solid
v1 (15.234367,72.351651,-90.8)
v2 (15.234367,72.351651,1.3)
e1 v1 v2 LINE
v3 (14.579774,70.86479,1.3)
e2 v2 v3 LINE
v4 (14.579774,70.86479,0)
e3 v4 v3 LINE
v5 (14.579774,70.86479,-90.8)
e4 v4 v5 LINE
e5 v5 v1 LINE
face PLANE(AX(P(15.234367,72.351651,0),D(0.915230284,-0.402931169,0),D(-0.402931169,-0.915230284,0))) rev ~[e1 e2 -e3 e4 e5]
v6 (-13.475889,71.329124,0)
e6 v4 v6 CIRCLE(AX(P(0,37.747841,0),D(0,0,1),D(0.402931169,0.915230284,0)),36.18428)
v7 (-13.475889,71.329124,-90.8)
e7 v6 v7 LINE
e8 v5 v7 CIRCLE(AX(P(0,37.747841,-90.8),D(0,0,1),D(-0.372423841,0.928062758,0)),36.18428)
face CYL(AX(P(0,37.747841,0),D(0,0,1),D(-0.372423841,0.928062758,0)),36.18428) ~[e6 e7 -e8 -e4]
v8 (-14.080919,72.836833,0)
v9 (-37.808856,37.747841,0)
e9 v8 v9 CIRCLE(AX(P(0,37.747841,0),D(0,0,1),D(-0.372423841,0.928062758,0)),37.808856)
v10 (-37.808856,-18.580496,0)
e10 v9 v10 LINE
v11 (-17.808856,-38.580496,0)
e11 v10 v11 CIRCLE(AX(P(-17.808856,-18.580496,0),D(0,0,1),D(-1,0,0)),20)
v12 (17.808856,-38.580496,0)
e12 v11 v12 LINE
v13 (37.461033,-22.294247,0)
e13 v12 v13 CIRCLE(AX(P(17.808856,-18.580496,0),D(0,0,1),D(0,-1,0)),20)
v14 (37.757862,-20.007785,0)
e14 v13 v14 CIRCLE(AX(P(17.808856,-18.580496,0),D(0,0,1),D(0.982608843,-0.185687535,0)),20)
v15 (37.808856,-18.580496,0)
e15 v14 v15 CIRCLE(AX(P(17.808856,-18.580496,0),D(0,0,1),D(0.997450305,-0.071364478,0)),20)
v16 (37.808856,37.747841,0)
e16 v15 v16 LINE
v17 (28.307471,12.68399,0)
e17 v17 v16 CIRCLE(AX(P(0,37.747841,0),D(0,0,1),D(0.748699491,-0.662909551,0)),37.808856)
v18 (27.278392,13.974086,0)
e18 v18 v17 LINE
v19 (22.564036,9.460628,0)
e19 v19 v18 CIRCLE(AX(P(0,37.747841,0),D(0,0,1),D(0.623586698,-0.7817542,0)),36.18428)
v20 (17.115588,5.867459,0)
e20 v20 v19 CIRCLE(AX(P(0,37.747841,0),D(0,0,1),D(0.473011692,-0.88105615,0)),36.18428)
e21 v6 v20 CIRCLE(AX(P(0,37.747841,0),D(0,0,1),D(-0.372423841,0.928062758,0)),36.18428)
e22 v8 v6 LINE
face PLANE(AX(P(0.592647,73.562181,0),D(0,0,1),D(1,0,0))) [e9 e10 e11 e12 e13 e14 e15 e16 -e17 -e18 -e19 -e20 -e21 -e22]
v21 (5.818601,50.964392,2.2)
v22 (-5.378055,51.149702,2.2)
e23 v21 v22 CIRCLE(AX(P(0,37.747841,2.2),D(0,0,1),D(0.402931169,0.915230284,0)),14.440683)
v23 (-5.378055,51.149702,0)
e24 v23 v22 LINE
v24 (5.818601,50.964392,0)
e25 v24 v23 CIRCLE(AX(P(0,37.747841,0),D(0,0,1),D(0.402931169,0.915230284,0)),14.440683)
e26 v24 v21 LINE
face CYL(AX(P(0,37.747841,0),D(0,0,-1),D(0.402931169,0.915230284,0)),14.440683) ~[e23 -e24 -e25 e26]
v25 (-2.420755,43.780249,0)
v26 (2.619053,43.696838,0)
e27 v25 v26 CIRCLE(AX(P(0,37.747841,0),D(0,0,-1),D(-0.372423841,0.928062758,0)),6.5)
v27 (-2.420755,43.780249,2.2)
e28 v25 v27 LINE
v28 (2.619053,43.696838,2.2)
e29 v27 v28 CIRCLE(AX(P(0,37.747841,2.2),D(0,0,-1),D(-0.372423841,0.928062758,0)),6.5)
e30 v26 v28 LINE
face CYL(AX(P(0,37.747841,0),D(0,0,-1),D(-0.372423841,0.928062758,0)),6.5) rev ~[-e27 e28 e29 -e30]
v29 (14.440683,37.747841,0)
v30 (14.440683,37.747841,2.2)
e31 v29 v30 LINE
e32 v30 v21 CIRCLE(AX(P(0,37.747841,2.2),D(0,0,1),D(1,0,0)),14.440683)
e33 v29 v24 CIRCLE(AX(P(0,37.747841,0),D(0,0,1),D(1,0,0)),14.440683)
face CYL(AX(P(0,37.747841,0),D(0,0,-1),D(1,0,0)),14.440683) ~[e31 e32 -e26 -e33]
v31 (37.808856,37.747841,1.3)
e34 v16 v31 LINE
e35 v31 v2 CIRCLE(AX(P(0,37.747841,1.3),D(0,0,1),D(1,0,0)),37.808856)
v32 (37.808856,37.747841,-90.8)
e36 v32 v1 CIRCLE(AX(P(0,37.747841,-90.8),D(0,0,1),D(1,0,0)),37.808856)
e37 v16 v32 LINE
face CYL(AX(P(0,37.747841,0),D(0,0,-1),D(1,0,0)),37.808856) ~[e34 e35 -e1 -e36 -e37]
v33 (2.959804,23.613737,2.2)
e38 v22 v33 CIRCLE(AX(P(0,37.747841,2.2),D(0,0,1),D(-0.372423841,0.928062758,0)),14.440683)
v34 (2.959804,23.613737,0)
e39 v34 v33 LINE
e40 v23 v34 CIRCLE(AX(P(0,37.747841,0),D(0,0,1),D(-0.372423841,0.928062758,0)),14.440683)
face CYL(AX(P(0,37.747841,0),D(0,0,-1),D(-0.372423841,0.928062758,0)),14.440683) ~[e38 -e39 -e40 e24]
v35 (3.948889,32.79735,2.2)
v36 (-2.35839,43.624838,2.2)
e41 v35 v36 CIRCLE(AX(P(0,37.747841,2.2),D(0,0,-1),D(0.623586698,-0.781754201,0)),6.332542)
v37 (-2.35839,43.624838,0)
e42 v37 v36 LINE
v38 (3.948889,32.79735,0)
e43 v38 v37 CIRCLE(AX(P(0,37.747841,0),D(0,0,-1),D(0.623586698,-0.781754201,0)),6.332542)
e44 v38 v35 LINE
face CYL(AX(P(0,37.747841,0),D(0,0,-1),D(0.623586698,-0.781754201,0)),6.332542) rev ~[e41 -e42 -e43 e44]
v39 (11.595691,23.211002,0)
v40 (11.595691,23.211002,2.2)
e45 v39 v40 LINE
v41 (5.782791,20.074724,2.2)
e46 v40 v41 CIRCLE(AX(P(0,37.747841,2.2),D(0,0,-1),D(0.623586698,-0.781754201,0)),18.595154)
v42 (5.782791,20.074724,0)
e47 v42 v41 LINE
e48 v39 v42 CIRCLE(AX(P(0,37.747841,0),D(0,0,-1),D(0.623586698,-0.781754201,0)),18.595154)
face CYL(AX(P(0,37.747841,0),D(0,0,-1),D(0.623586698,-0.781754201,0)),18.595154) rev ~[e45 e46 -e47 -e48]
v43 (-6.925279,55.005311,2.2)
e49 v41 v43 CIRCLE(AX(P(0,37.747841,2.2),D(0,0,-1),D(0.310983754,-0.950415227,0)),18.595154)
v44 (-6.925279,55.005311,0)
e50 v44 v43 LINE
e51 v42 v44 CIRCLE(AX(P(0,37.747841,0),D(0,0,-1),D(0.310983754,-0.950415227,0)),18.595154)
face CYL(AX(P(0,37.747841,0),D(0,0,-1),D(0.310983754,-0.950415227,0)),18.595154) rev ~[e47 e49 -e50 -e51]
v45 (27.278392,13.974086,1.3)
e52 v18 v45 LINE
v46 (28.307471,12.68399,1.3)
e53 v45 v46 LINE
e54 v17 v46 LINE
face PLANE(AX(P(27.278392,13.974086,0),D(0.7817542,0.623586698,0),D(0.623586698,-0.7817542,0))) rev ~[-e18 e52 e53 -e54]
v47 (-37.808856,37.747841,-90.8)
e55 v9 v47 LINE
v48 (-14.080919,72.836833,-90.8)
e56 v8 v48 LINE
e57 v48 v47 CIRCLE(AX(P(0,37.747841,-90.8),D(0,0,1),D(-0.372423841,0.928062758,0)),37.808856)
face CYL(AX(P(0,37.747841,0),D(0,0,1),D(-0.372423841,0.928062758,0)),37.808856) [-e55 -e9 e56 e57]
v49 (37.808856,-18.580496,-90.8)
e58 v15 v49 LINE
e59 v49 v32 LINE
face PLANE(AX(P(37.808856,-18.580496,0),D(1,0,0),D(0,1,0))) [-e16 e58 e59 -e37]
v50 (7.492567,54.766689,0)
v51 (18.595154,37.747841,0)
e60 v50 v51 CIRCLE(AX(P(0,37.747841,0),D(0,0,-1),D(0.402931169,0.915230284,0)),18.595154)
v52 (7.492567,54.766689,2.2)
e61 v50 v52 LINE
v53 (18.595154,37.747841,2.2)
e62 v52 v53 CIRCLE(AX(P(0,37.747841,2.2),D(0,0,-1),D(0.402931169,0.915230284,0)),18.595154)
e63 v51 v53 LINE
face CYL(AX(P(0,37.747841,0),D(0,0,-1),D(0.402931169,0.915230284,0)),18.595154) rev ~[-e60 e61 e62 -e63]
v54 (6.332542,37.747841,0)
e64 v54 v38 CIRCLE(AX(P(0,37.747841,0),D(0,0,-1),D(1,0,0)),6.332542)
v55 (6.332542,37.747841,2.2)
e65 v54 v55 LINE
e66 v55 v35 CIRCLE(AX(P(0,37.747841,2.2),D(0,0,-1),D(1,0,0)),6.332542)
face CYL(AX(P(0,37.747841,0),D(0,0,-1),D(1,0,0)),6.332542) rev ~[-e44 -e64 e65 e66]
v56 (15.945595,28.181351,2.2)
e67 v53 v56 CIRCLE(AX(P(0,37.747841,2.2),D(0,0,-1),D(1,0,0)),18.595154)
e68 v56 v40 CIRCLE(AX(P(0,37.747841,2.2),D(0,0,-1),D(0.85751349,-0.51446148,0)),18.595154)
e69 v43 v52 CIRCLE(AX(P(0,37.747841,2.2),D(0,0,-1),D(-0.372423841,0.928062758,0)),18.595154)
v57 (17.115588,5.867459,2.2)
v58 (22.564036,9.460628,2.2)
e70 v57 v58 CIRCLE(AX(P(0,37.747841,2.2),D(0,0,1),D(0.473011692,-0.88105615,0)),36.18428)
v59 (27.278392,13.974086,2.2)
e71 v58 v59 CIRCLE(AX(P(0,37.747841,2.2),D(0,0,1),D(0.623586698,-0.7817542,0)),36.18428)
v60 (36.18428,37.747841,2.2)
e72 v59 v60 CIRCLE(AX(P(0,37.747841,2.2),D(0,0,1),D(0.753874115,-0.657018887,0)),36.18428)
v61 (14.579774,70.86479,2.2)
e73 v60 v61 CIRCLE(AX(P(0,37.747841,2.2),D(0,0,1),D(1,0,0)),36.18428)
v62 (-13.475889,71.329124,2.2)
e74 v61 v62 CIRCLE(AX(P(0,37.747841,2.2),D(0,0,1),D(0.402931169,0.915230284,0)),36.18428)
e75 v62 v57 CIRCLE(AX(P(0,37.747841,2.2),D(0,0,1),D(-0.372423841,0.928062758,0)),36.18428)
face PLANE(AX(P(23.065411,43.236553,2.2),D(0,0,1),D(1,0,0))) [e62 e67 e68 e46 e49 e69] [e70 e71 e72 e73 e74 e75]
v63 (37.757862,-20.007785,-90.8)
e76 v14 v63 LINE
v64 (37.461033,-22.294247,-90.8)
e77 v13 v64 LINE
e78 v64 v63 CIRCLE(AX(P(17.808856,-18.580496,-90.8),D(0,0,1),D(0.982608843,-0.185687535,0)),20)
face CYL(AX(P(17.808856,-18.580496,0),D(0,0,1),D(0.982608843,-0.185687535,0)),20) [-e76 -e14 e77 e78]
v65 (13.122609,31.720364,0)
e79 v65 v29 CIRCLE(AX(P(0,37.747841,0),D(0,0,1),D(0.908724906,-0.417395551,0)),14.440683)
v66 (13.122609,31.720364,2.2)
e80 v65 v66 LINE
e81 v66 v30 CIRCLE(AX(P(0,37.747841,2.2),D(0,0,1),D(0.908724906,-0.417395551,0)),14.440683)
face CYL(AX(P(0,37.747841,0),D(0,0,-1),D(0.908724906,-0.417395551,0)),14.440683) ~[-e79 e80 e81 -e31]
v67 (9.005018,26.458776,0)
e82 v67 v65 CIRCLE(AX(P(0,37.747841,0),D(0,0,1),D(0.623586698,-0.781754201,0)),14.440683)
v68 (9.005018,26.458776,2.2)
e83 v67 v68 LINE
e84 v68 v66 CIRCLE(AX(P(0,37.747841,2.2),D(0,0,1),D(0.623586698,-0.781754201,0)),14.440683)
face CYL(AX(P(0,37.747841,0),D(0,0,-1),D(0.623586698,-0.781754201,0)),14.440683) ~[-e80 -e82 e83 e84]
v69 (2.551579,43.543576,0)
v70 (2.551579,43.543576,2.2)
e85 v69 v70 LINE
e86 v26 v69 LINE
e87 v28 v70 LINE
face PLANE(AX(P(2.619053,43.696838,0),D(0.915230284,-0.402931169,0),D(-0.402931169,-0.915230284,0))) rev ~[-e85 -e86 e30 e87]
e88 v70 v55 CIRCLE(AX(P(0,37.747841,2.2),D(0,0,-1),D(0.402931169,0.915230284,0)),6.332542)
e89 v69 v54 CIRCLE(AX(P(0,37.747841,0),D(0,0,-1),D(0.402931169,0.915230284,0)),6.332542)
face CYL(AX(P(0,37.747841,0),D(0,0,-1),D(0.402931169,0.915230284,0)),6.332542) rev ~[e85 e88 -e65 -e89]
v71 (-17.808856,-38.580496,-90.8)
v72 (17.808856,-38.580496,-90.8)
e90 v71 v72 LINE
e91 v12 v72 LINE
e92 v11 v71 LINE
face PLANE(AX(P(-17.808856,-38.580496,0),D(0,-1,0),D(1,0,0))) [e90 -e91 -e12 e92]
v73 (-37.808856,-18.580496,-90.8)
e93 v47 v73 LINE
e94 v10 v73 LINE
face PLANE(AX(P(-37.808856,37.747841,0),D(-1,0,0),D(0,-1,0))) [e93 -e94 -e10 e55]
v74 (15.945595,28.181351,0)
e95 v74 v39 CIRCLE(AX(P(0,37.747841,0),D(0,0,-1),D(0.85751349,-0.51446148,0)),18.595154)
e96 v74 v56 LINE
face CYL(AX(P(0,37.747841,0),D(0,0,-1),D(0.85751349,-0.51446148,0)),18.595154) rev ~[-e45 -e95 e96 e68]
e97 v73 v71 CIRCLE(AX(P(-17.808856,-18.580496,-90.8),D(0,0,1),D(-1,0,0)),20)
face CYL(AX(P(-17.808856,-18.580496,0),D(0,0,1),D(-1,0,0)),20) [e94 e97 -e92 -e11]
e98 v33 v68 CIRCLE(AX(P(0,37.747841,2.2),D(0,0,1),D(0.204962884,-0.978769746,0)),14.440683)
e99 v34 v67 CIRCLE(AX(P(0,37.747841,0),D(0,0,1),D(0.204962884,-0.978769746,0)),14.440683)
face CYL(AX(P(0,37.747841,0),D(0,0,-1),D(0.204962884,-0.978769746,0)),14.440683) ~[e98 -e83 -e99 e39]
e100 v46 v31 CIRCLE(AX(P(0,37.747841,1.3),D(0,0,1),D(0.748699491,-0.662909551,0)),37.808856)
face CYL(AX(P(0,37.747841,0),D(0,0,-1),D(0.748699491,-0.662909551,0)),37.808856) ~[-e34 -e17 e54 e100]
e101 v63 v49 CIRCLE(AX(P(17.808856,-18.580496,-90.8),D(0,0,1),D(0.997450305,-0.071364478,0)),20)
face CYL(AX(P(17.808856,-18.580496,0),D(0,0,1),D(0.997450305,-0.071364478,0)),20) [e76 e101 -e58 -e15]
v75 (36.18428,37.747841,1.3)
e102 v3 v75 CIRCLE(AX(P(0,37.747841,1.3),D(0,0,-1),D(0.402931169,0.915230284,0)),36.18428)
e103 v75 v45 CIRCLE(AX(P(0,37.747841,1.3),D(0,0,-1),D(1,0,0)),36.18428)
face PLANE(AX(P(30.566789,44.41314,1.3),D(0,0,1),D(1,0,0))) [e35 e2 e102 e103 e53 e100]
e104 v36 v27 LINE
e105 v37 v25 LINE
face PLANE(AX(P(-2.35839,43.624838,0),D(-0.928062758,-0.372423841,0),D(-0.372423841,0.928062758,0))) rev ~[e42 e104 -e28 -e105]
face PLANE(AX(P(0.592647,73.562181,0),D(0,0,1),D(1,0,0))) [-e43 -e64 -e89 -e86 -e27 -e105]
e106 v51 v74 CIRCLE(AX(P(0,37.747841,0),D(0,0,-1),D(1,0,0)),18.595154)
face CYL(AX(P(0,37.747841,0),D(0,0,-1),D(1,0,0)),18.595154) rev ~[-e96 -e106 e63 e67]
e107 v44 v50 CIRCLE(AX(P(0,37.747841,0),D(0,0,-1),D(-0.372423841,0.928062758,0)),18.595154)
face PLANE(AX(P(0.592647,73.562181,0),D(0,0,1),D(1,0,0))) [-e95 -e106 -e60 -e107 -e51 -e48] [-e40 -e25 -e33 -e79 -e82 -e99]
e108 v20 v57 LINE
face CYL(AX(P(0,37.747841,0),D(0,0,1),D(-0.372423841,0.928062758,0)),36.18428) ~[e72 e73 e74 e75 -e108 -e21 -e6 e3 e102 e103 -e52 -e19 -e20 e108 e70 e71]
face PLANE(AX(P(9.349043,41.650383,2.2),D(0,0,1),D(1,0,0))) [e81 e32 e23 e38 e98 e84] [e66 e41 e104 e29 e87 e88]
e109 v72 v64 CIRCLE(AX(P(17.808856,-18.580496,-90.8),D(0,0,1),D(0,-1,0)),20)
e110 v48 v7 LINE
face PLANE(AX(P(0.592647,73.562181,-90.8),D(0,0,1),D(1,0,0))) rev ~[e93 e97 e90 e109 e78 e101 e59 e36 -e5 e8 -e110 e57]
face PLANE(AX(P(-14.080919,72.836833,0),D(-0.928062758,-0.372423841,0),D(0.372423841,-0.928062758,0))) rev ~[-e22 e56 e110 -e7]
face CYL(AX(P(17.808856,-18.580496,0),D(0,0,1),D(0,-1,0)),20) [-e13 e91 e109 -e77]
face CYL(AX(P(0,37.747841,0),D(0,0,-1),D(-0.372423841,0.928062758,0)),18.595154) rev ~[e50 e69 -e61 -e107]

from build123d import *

# Parameters (mm, degrees)
F1_DEPTH = 90.8
F2_DEPTH = 2.2
F3_DEPTH = 98.2
F4_DEPTH = 1.3


with BuildPart() as f1:
    # F0 (on Top) → F1 (new body)
    with BuildSketch(Plane.XY):
        with BuildLine():
            Line((14.5797743075, 70.8647903861), (15.2343665475, 72.3516513901))
            ThreePointArc((15.2343665475, 72.3516513901), (9.7510541905, 74.2776447369), (4.0373458892, 75.3405192466))
            Line((4.0373458892, 75.3405192466), (-3.8493320938, 75.3602360583))
            ThreePointArc((-3.8493320938, 75.3602360583), (-9.0534728718, 74.4567533778), (-14.0809194048, 72.8368325308))
            Line((-14.0809194048, 72.8368325308), (-13.4758886314, 71.3291242006))
            ThreePointArc((-13.4758886314, 71.3291242006), (0.5987840757, 73.9271667972), (14.5797743075, 70.8647903861))
        make_face()
        with BuildLine():
            ThreePointArc((17.1155876174, 5.8674587356), (-32.7813859307, 22.4284787369), (-13.4758886314, 71.3291242006))
            Line((-13.4758886314, 71.3291242006), (-14.0809194048, 72.8368325308))
            ThreePointArc((-14.0809194048, 72.8368325308), (-31.3200658488, 58.9271489213), (-37.8088560378, 37.7478413284))
            ThreePointArc((-37.8088560378, 37.7478413284), (-34.519772796, 22.3240000103), (-25.2247735802, 9.5836727321))
            ThreePointArc((-25.2247735802, 9.5836727321), (-4.3356388326, 0.1883973655), (18.1446666572, 4.5773624836))
            Line((18.1446666572, 4.5773624836), (17.1155876174, 5.8674587356))
        make_face()
        with BuildLine():
            ThreePointArc((28.3074712637, 12.6839895584), (35.3538024878, 24.3456682007), (37.8088560378, 37.7478413284))
            ThreePointArc((37.8088560378, 37.7478413284), (31.6662562242, 58.4059586587), (15.2343665475, 72.3516513901))
            Line((15.2343665475, 72.3516513901), (14.5797743075, 70.8647903861))
            ThreePointArc((14.5797743075, 70.8647903861), (30.3056164149, 57.5183179908), (36.1842802022, 37.7478413284))
            ThreePointArc((36.1842802022, 37.7478413284), (33.8847393486, 25.0542770919), (27.2783922239, 13.9740858104))
            Line((27.2783922239, 13.9740858104), (28.3074712637, 12.6839895584))
        make_face()
        with BuildLine():
            Line((7.4925671367, 54.7666894219), (14.5797743075, 70.8647903861))
            ThreePointArc((14.5797743075, 70.8647903861), (0.5987840757, 73.9271667972), (-13.4758886314, 71.3291242006))
            Line((-13.4758886314, 71.3291242006), (-6.9252786887, 55.0053112418))
            ThreePointArc((-6.9252786887, 55.0053112418), (0.3077160039, 56.3404490957), (7.4925671367, 54.7666894219))
        make_face()
        with BuildLine():
            ThreePointArc((36.1842802022, 37.7478413284), (30.3056164149, 57.5183179908), (14.5797743075, 70.8647903861))
            Line((14.5797743075, 70.8647903861), (7.4925671367, 54.7666894219))
            ThreePointArc((7.4925671367, 54.7666894219), (15.5741001759, 47.9079179245), (18.5951540119, 37.7478413284))
            ThreePointArc((18.5951540119, 37.7478413284), (17.9205267119, 32.7845284132), (15.9455954142, 28.1813508739))
            Line((15.9455954142, 28.1813508739), (27.2783922239, 13.9740858104))
            ThreePointArc((27.2783922239, 13.9740858104), (33.8847393486, 25.0542770919), (36.1842802022, 37.7478413284))
        make_face()
        with BuildLine():
            Line((-6.9252786887, 55.0053112418), (-13.4758886314, 71.3291242006))
            ThreePointArc((-13.4758886314, 71.3291242006), (-32.7813859307, 22.4284787369), (17.1155876174, 5.8674587356))
            Line((17.1155876174, 5.8674587356), (5.7827908077, 20.0747237991))
            ThreePointArc((5.7827908077, 20.0747237991), (-17.4746331696, 31.3904088029), (-6.9252786887, 55.0053112418))
        make_face()
        with BuildLine():
            Line((5.8186014769, 50.9643921908), (7.4925671367, 54.7666894219))
            ThreePointArc((7.4925671367, 54.7666894219), (0.3077160039, 56.3404490957), (-6.9252786887, 55.0053112418))
            Line((-6.9252786887, 55.0053112418), (-5.3780548203, 51.1497018781))
            ThreePointArc((-5.3780548203, 51.1497018781), (0.2389670672, 52.1865474541), (5.8186014769, 50.9643921908))
        make_face()
        with BuildLine():
            Line((-5.3780548203, 51.1497018781), (-6.9252786887, 55.0053112418))
            ThreePointArc((-6.9252786887, 55.0053112418), (-17.4746331696, 31.3904088029), (5.7827908077, 20.0747237991))
            Line((5.7827908077, 20.0747237991), (2.9598041396, 23.6137372075))
            ThreePointArc((2.9598041396, 23.6137372075), (-13.8209739771, 33.5628660392), (-5.3780548203, 51.1497018781))
        make_face()
        with BuildLine():
            ThreePointArc((18.5951540119, 37.7478413284), (15.5741001759, 47.9079179245), (7.4925671367, 54.7666894219))
            Line((7.4925671367, 54.7666894219), (5.8186014769, 50.9643921908))
            ThreePointArc((5.8186014769, 50.9643921908), (12.0945839566, 45.6379857353), (14.4406834965, 37.7478413284))
            ThreePointArc((14.4406834965, 37.7478413284), (14.1073168851, 34.6628858754), (13.1226087461, 31.7203642823))
            Line((13.1226087461, 31.7203642823), (15.9455954142, 28.1813508739))
            ThreePointArc((15.9455954142, 28.1813508739), (17.9205267119, 32.7845284132), (18.5951540119, 37.7478413284))
        make_face()
        with BuildLine():
            ThreePointArc((9.0050181393, 26.4587763469), (11.3722928557, 28.848161837), (13.1226087461, 31.7203642823))
            Line((13.1226087461, 31.7203642823), (5.0814023033, 41.8011548658))
            ThreePointArc((5.0814023033, 41.8011548658), (3.9651803512, 42.8983116741), (2.619052596, 43.6968381765))
            Line((2.619052596, 43.6968381765), (2.5515787198, 43.5435759329))
            ThreePointArc((2.5515787198, 43.5435759329), (5.3037285971, 41.2078350476), (6.3325424253, 37.7478413284))
            ThreePointArc((6.3325424253, 37.7478413284), (5.7055938383, 35.000607716), (3.9488892214, 32.7973496875))
            Line((3.9488892214, 32.7973496875), (9.0050181393, 26.4587763469))
        make_face()
        with BuildLine():
            ThreePointArc((2.9598041396, 23.6137372075), (6.1492117355, 24.6818344832), (9.0050181393, 26.4587763469))
            Line((9.0050181393, 26.4587763469), (3.9488892214, 32.7973496875))
            ThreePointArc((3.9488892214, 32.7973496875), (-5.4718414208, 34.5603587741), (-2.3583897759, 43.6248381153))
            Line((-2.3583897759, 43.6248381153), (-2.4207549691, 43.7802492539))
            ThreePointArc((-2.4207549691, 43.7802492539), (-6.2849849078, 39.405841542), (-5.0814023033, 33.694527791))
            Line((-5.0814023033, 33.694527791), (2.9598041396, 23.6137372075))
        make_face()
        with BuildLine():
            Line((2.5515787198, 43.5435759329), (2.619052596, 43.6968381765))
            ThreePointArc((2.619052596, 43.6968381765), (0.1075631868, 44.2469512798), (-2.4207549691, 43.7802492539))
            Line((-2.4207549691, 43.7802492539), (-2.3583897759, 43.6248381153))
            ThreePointArc((-2.3583897759, 43.6248381153), (0.1047920683, 44.0795166352), (2.5515787198, 43.5435759329))
        make_face()
        with BuildLine():
            Line((2.619052596, 43.6968381765), (5.8186014769, 50.9643921908))
            ThreePointArc((5.8186014769, 50.9643921908), (0.2389670672, 52.1865474541), (-5.3780548203, 51.1497018781))
            Line((-5.3780548203, 51.1497018781), (-2.4207549691, 43.7802492539))
            ThreePointArc((-2.4207549691, 43.7802492539), (0.1075631868, 44.2469512798), (2.619052596, 43.6968381765))
        make_face()
        with BuildLine():
            Line((0, 37.7478413284), (2.5515787198, 43.5435759329))
            ThreePointArc((2.5515787198, 43.5435759329), (0.1047920683, 44.0795166352), (-2.3583897759, 43.6248381153))
            Line((-2.3583897759, 43.6248381153), (0, 37.7478413284))
        make_face()
        with BuildLine():
            ThreePointArc((6.3325424253, 37.7478413284), (5.3037285971, 41.2078350476), (2.5515787198, 43.5435759329))
            Line((2.5515787198, 43.5435759329), (0, 37.7478413284))
            Line((0, 37.7478413284), (3.9488892214, 32.7973496875))
            ThreePointArc((3.9488892214, 32.7973496875), (5.7055938383, 35.000607716), (6.3325424253, 37.7478413284))
        make_face()
        with BuildLine():
            ThreePointArc((-2.3583897759, 43.6248381153), (-5.4718414208, 34.5603587741), (3.9488892214, 32.7973496875))
            Line((3.9488892214, 32.7973496875), (0, 37.7478413284))
            Line((0, 37.7478413284), (-2.3583897759, 43.6248381153))
        make_face()
        with BuildLine():
            ThreePointArc((14.4406834965, 37.7478413284), (12.0945839566, 45.6379857353), (5.8186014769, 50.9643921908))
            Line((5.8186014769, 50.9643921908), (2.619052596, 43.6968381765))
            ThreePointArc((2.619052596, 43.6968381765), (3.9651803512, 42.8983116741), (5.0814023033, 41.8011548658))
            Line((5.0814023033, 41.8011548658), (13.1226087461, 31.7203642823))
            ThreePointArc((13.1226087461, 31.7203642823), (14.1073168851, 34.6628858754), (14.4406834965, 37.7478413284))
        make_face()
        with BuildLine():
            Line((-2.4207549691, 43.7802492539), (-5.3780548203, 51.1497018781))
            ThreePointArc((-5.3780548203, 51.1497018781), (-13.8209739771, 33.5628660392), (2.9598041396, 23.6137372075))
            Line((2.9598041396, 23.6137372075), (-5.0814023033, 33.694527791))
            ThreePointArc((-5.0814023033, 33.694527791), (-6.2849849078, 39.405841542), (-2.4207549691, 43.7802492539))
        make_face()
        with BuildLine():
            ThreePointArc((11.5956906903, 23.2110015706), (13.9930948371, 25.5014929091), (15.9455954142, 28.1813508739))
            Line((15.9455954142, 28.1813508739), (13.1226087461, 31.7203642823))
            ThreePointArc((13.1226087461, 31.7203642823), (11.3722928557, 28.848161837), (9.0050181393, 26.4587763469))
            Line((9.0050181393, 26.4587763469), (11.5956906903, 23.2110015706))
        make_face()
        with BuildLine():
            ThreePointArc((22.564035813, 9.4606282882), (25.0231839072, 11.6108483703), (27.2783922239, 13.9740858104))
            Line((27.2783922239, 13.9740858104), (15.9455954142, 28.1813508739))
            ThreePointArc((15.9455954142, 28.1813508739), (13.9930948371, 25.5014929091), (11.5956906903, 23.2110015706))
            Line((11.5956906903, 23.2110015706), (22.564035813, 9.4606282882))
        make_face()
        with BuildLine():
            ThreePointArc((17.1155876174, 5.8674587356), (19.9209900797, 7.5409499293), (22.564035813, 9.4606282882))
            Line((22.564035813, 9.4606282882), (11.5956906903, 23.2110015706))
            ThreePointArc((11.5956906903, 23.2110015706), (8.8296072596, 21.3827019043), (5.7827908077, 20.0747237991))
            Line((5.7827908077, 20.0747237991), (17.1155876174, 5.8674587356))
        make_face()
        with BuildLine():
            ThreePointArc((5.7827908077, 20.0747237991), (8.8296072596, 21.3827019043), (11.5956906903, 23.2110015706))
            Line((11.5956906903, 23.2110015706), (9.0050181393, 26.4587763469))
            ThreePointArc((9.0050181393, 26.4587763469), (6.1492117355, 24.6818344832), (2.9598041396, 23.6137372075))
            Line((2.9598041396, 23.6137372075), (5.7827908077, 20.0747237991))
        make_face()
        with BuildLine():
            ThreePointArc((25.2247735802, 9.5836727321), (26.8109735111, 11.0892349455), (28.3074712637, 12.6839895584))
            Line((28.3074712637, 12.6839895584), (27.2783922239, 13.9740858104))
            ThreePointArc((27.2783922239, 13.9740858104), (25.0231839072, 11.6108483703), (22.564035813, 9.4606282882))
            Line((22.564035813, 9.4606282882), (23.5770996941, 8.1906093047))
            ThreePointArc((23.5770996941, 8.1906093047), (24.4108759613, 8.8753850821), (25.2247735802, 9.5836727321))
        make_face()
        with BuildLine():
            ThreePointArc((18.1446666572, 4.5773624836), (20.9389669042, 6.266588814), (23.5770996941, 8.1906093047))
            Line((23.5770996941, 8.1906093047), (22.564035813, 9.4606282882))
            ThreePointArc((22.564035813, 9.4606282882), (19.9209900797, 7.5409499293), (17.1155876174, 5.8674587356))
            Line((17.1155876174, 5.8674587356), (18.1446666572, 4.5773624836))
        make_face()
        with BuildLine():
            Line((25.9509916616, 9.5836727321), (25.2247735802, 9.5836727321))
            ThreePointArc((25.2247735802, 9.5836727321), (24.4108759613, 8.8753850821), (23.5770996941, 8.1906093047))
            Line((23.5770996941, 8.1906093047), (31.9509916616, -2.3072496786))
            Line((31.9509916616, -2.3072496786), (31.9509916616, 3.5836727321))
            ThreePointArc((31.9509916616, 3.5836727321), (30.1936323487, 7.8263134192), (25.9509916616, 9.5836727321))
        make_face()
        with BuildLine():
            Line((37.8088560378, 0.7726587349), (28.3074712637, 12.6839895584))
            ThreePointArc((28.3074712637, 12.6839895584), (26.8109735111, 11.0892349455), (25.2247735802, 9.5836727321))
            Line((25.2247735802, 9.5836727321), (25.9509916616, 9.5836727321))
            ThreePointArc((25.9509916616, 9.5836727321), (30.1936323487, 7.8263134192), (31.9509916616, 3.5836727321))
            Line((31.9509916616, 3.5836727321), (31.9509916616, -2.3072496786))
            Line((31.9509916616, -2.3072496786), (37.5423985462, -9.316869724))
            ThreePointArc((37.5423985462, -9.316869724), (37.6746019819, -9.2135722748), (37.8088560378, -9.1129543843))
            Line((37.8088560378, -9.1129543843), (37.8088560378, 0.7726587349))
        make_face()
        with BuildLine():
            Line((31.9509916616, -2.3072496786), (23.5770996941, 8.1906093047))
            ThreePointArc((23.5770996941, 8.1906093047), (20.9389669042, 6.266588814), (18.1446666572, 4.5773624836))
            Line((18.1446666572, 4.5773624836), (31.950989986, -12.7308182222))
            ThreePointArc((31.950989986, -12.7308182222), (31.9509912427, -12.7267248551), (31.9509916616, -12.7226314879))
            Line((31.9509916616, -12.7226314879), (31.9509916616, -2.3072496786))
        make_face()
        with BuildLine():
            ThreePointArc((34.4023500944, -15.8039451307), (35.2356894452, -12.2038174301), (37.5423985462, -9.316869724))
            Line((37.5423985462, -9.316869724), (31.9509916616, -2.3072496786))
            Line((31.9509916616, -2.3072496786), (31.9509916616, -12.7226314879))
            ThreePointArc((31.9509916616, -12.7226314879), (31.9509912427, -12.7267248551), (31.950989986, -12.7308182222))
            Line((31.950989986, -12.7308182222), (34.4023500944, -15.8039451307))
        make_face()
        with BuildLine():
            Line((37.8088560378, -18.5804958642), (37.8088560378, -9.6509119093))
            Line((37.8088560378, -9.6509119093), (37.5423985462, -9.316869724))
            ThreePointArc((37.5423985462, -9.316869724), (35.2356894452, -12.2038174301), (34.4023500944, -15.8039451307))
            Line((34.4023500944, -15.8039451307), (37.6630889461, -19.8917428692))
            ThreePointArc((37.6630889461, -19.8917428692), (37.7101411831, -19.950037218), (37.7578621419, -20.0077854145))
            ThreePointArc((37.7578621419, -20.0077854145), (37.7961034982, -19.2945959688), (37.8088560378, -18.5804958642))
        make_face()
        with BuildLine():
            Line((37.8088560378, -9.6509119093), (37.8088560378, -9.1129543843))
            ThreePointArc((37.8088560378, -9.1129543843), (37.6746019819, -9.2135722748), (37.5423985462, -9.316869724))
            Line((37.5423985462, -9.316869724), (37.8088560378, -9.6509119093))
        make_face()
        with BuildLine():
            Line((37.6630889461, -19.8917428692), (34.4023500944, -15.8039451307))
            ThreePointArc((34.4023500944, -15.8039451307), (35.1982840172, -19.3947286188), (37.4610329077, -22.294246566))
            ThreePointArc((37.4610329077, -22.294246566), (37.6424235279, -21.1552969472), (37.7578621419, -20.0077854145))
            ThreePointArc((37.7578621419, -20.0077854145), (37.7101411831, -19.950037218), (37.6630889461, -19.8917428692))
        make_face()
        with BuildLine():
            ThreePointArc((37.4610329077, -22.294246566), (35.1982840172, -19.3947286188), (34.4023500944, -15.8039451307))
            Line((34.4023500944, -15.8039451307), (31.950989986, -12.7308182222))
            ThreePointArc((31.950989986, -12.7308182222), (26.0902325414, -26.8676612631), (11.9509916616, -32.7226314879))
            Line((11.9509916616, -32.7226314879), (-11.2525294721, -32.7226314879))
            ThreePointArc((-11.2525294721, -32.7226314879), (-25.3946650958, -26.8647671116), (-31.2525294721, -12.7226314879))
            Line((-31.2525294721, -12.7226314879), (-31.2525294721, 3.5836727321))
            ThreePointArc((-31.2525294721, 3.5836727321), (-29.4951701592, 7.8263134192), (-25.2525294721, 9.5836727321))
            Line((-25.2525294721, 9.5836727321), (-25.2247735802, 9.5836727321))
            ThreePointArc((-25.2247735802, 9.5836727321), (-34.519772796, 22.3240000103), (-37.8088560378, 37.7478413284))
            Line((-37.8088560378, 37.7478413284), (-37.8088560378, -18.5804958642))
            ThreePointArc((-37.8088560378, -18.5804958642), (-31.9509916616, -32.7226314879), (-17.8088560378, -38.5804958642))
            Line((-17.8088560378, -38.5804958642), (17.8088560378, -38.5804958642))
            ThreePointArc((17.8088560378, -38.5804958642), (30.570615046, -33.9797655552), (37.4610329077, -22.294246566))
        make_face()
        with BuildLine():
            Line((31.950989986, -12.7308182222), (18.1446666572, 4.5773624836))
            ThreePointArc((18.1446666572, 4.5773624836), (-4.3356388326, 0.1883973655), (-25.2247735802, 9.5836727321))
            Line((-25.2247735802, 9.5836727321), (-25.2525294721, 9.5836727321))
            ThreePointArc((-25.2525294721, 9.5836727321), (-29.4951701592, 7.8263134192), (-31.2525294721, 3.5836727321))
            Line((-31.2525294721, 3.5836727321), (-31.2525294721, -12.7226314879))
            ThreePointArc((-31.2525294721, -12.7226314879), (-25.3946650958, -26.8647671116), (-11.2525294721, -32.7226314879))
            Line((-11.2525294721, -32.7226314879), (11.9509916616, -32.7226314879))
            ThreePointArc((11.9509916616, -32.7226314879), (26.0902325414, -26.8676612631), (31.950989986, -12.7308182222))
        make_face()
        with BuildLine():
            Line((37.8088560378, 0.7726587349), (37.8088560378, 37.7478413284))
            ThreePointArc((37.8088560378, 37.7478413284), (35.3538024878, 24.3456682007), (28.3074712637, 12.6839895584))
            Line((28.3074712637, 12.6839895584), (37.8088560378, 0.7726587349))
        make_face()
    extrude(amount=-F1_DEPTH)

    # F0 (on Top) → F2 (join)
    with BuildSketch(Plane.XY):
        with BuildLine():
            ThreePointArc((36.1842802022, 37.7478413284), (30.3056164149, 57.5183179908), (14.5797743075, 70.8647903861))
            Line((14.5797743075, 70.8647903861), (7.4925671367, 54.7666894219))
            ThreePointArc((7.4925671367, 54.7666894219), (15.5741001759, 47.9079179245), (18.5951540119, 37.7478413284))
            ThreePointArc((18.5951540119, 37.7478413284), (17.9205267119, 32.7845284132), (15.9455954142, 28.1813508739))
            Line((15.9455954142, 28.1813508739), (27.2783922239, 13.9740858104))
            ThreePointArc((27.2783922239, 13.9740858104), (33.8847393486, 25.0542770919), (36.1842802022, 37.7478413284))
        make_face()
        with BuildLine():
            ThreePointArc((22.564035813, 9.4606282882), (25.0231839072, 11.6108483703), (27.2783922239, 13.9740858104))
            Line((27.2783922239, 13.9740858104), (15.9455954142, 28.1813508739))
            ThreePointArc((15.9455954142, 28.1813508739), (13.9930948371, 25.5014929091), (11.5956906903, 23.2110015706))
            Line((11.5956906903, 23.2110015706), (22.564035813, 9.4606282882))
        make_face()
        with BuildLine():
            ThreePointArc((17.1155876174, 5.8674587356), (19.9209900797, 7.5409499293), (22.564035813, 9.4606282882))
            Line((22.564035813, 9.4606282882), (11.5956906903, 23.2110015706))
            ThreePointArc((11.5956906903, 23.2110015706), (8.8296072596, 21.3827019043), (5.7827908077, 20.0747237991))
            Line((5.7827908077, 20.0747237991), (17.1155876174, 5.8674587356))
        make_face()
        with BuildLine():
            Line((-6.9252786887, 55.0053112418), (-13.4758886314, 71.3291242006))
            ThreePointArc((-13.4758886314, 71.3291242006), (-32.7813859307, 22.4284787369), (17.1155876174, 5.8674587356))
            Line((17.1155876174, 5.8674587356), (5.7827908077, 20.0747237991))
            ThreePointArc((5.7827908077, 20.0747237991), (-17.4746331696, 31.3904088029), (-6.9252786887, 55.0053112418))
        make_face()
        with BuildLine():
            Line((7.4925671367, 54.7666894219), (14.5797743075, 70.8647903861))
            ThreePointArc((14.5797743075, 70.8647903861), (0.5987840757, 73.9271667972), (-13.4758886314, 71.3291242006))
            Line((-13.4758886314, 71.3291242006), (-6.9252786887, 55.0053112418))
            ThreePointArc((-6.9252786887, 55.0053112418), (0.3077160039, 56.3404490957), (7.4925671367, 54.7666894219))
        make_face()
        with BuildLine():
            ThreePointArc((14.4406834965, 37.7478413284), (12.0945839566, 45.6379857353), (5.8186014769, 50.9643921908))
            Line((5.8186014769, 50.9643921908), (2.619052596, 43.6968381765))
            ThreePointArc((2.619052596, 43.6968381765), (3.9651803512, 42.8983116741), (5.0814023033, 41.8011548658))
            Line((5.0814023033, 41.8011548658), (13.1226087461, 31.7203642823))
            ThreePointArc((13.1226087461, 31.7203642823), (14.1073168851, 34.6628858754), (14.4406834965, 37.7478413284))
        make_face()
        with BuildLine():
            ThreePointArc((9.0050181393, 26.4587763469), (11.3722928557, 28.848161837), (13.1226087461, 31.7203642823))
            Line((13.1226087461, 31.7203642823), (5.0814023033, 41.8011548658))
            ThreePointArc((5.0814023033, 41.8011548658), (3.9651803512, 42.8983116741), (2.619052596, 43.6968381765))
            Line((2.619052596, 43.6968381765), (2.5515787198, 43.5435759329))
            ThreePointArc((2.5515787198, 43.5435759329), (5.3037285971, 41.2078350476), (6.3325424253, 37.7478413284))
            ThreePointArc((6.3325424253, 37.7478413284), (5.7055938383, 35.000607716), (3.9488892214, 32.7973496875))
            Line((3.9488892214, 32.7973496875), (9.0050181393, 26.4587763469))
        make_face()
        with BuildLine():
            ThreePointArc((2.9598041396, 23.6137372075), (6.1492117355, 24.6818344832), (9.0050181393, 26.4587763469))
            Line((9.0050181393, 26.4587763469), (3.9488892214, 32.7973496875))
            ThreePointArc((3.9488892214, 32.7973496875), (-5.4718414208, 34.5603587741), (-2.3583897759, 43.6248381153))
            Line((-2.3583897759, 43.6248381153), (-2.4207549691, 43.7802492539))
            ThreePointArc((-2.4207549691, 43.7802492539), (-6.2849849078, 39.405841542), (-5.0814023033, 33.694527791))
            Line((-5.0814023033, 33.694527791), (2.9598041396, 23.6137372075))
        make_face()
        with BuildLine():
            Line((-2.4207549691, 43.7802492539), (-5.3780548203, 51.1497018781))
            ThreePointArc((-5.3780548203, 51.1497018781), (-13.8209739771, 33.5628660392), (2.9598041396, 23.6137372075))
            Line((2.9598041396, 23.6137372075), (-5.0814023033, 33.694527791))
            ThreePointArc((-5.0814023033, 33.694527791), (-6.2849849078, 39.405841542), (-2.4207549691, 43.7802492539))
        make_face()
        with BuildLine():
            Line((2.619052596, 43.6968381765), (5.8186014769, 50.9643921908))
            ThreePointArc((5.8186014769, 50.9643921908), (0.2389670672, 52.1865474541), (-5.3780548203, 51.1497018781))
            Line((-5.3780548203, 51.1497018781), (-2.4207549691, 43.7802492539))
            ThreePointArc((-2.4207549691, 43.7802492539), (0.1075631868, 44.2469512798), (2.619052596, 43.6968381765))
        make_face()
    extrude(amount=F2_DEPTH)

    # F0 (on Top) → F3 (cut)
    with BuildSketch(Plane.XY):
        with BuildLine():
            Line((14.5797743075, 70.8647903861), (15.2343665475, 72.3516513901))
            ThreePointArc((15.2343665475, 72.3516513901), (9.7510541905, 74.2776447369), (4.0373458892, 75.3405192466))
            Line((4.0373458892, 75.3405192466), (-3.8493320938, 75.3602360583))
            ThreePointArc((-3.8493320938, 75.3602360583), (-9.0534728718, 74.4567533778), (-14.0809194048, 72.8368325308))
            Line((-14.0809194048, 72.8368325308), (-13.4758886314, 71.3291242006))
            ThreePointArc((-13.4758886314, 71.3291242006), (0.5987840757, 73.9271667972), (14.5797743075, 70.8647903861))
        make_face()
    extrude(amount=-F3_DEPTH, mode=Mode.SUBTRACT)

    # F0 (on Top) → F4 (join)
    with BuildSketch(Plane.XY):
        with BuildLine():
            ThreePointArc((28.3074712637, 12.6839895584), (35.3538024878, 24.3456682007), (37.8088560378, 37.7478413284))
            ThreePointArc((37.8088560378, 37.7478413284), (31.6662562242, 58.4059586587), (15.2343665475, 72.3516513901))
            Line((15.2343665475, 72.3516513901), (14.5797743075, 70.8647903861))
            ThreePointArc((14.5797743075, 70.8647903861), (30.3056164149, 57.5183179908), (36.1842802022, 37.7478413284))
            ThreePointArc((36.1842802022, 37.7478413284), (33.8847393486, 25.0542770919), (27.2783922239, 13.9740858104))
            Line((27.2783922239, 13.9740858104), (28.3074712637, 12.6839895584))
        make_face()
    extrude(amount=F4_DEPTH)


solid = f1.part
